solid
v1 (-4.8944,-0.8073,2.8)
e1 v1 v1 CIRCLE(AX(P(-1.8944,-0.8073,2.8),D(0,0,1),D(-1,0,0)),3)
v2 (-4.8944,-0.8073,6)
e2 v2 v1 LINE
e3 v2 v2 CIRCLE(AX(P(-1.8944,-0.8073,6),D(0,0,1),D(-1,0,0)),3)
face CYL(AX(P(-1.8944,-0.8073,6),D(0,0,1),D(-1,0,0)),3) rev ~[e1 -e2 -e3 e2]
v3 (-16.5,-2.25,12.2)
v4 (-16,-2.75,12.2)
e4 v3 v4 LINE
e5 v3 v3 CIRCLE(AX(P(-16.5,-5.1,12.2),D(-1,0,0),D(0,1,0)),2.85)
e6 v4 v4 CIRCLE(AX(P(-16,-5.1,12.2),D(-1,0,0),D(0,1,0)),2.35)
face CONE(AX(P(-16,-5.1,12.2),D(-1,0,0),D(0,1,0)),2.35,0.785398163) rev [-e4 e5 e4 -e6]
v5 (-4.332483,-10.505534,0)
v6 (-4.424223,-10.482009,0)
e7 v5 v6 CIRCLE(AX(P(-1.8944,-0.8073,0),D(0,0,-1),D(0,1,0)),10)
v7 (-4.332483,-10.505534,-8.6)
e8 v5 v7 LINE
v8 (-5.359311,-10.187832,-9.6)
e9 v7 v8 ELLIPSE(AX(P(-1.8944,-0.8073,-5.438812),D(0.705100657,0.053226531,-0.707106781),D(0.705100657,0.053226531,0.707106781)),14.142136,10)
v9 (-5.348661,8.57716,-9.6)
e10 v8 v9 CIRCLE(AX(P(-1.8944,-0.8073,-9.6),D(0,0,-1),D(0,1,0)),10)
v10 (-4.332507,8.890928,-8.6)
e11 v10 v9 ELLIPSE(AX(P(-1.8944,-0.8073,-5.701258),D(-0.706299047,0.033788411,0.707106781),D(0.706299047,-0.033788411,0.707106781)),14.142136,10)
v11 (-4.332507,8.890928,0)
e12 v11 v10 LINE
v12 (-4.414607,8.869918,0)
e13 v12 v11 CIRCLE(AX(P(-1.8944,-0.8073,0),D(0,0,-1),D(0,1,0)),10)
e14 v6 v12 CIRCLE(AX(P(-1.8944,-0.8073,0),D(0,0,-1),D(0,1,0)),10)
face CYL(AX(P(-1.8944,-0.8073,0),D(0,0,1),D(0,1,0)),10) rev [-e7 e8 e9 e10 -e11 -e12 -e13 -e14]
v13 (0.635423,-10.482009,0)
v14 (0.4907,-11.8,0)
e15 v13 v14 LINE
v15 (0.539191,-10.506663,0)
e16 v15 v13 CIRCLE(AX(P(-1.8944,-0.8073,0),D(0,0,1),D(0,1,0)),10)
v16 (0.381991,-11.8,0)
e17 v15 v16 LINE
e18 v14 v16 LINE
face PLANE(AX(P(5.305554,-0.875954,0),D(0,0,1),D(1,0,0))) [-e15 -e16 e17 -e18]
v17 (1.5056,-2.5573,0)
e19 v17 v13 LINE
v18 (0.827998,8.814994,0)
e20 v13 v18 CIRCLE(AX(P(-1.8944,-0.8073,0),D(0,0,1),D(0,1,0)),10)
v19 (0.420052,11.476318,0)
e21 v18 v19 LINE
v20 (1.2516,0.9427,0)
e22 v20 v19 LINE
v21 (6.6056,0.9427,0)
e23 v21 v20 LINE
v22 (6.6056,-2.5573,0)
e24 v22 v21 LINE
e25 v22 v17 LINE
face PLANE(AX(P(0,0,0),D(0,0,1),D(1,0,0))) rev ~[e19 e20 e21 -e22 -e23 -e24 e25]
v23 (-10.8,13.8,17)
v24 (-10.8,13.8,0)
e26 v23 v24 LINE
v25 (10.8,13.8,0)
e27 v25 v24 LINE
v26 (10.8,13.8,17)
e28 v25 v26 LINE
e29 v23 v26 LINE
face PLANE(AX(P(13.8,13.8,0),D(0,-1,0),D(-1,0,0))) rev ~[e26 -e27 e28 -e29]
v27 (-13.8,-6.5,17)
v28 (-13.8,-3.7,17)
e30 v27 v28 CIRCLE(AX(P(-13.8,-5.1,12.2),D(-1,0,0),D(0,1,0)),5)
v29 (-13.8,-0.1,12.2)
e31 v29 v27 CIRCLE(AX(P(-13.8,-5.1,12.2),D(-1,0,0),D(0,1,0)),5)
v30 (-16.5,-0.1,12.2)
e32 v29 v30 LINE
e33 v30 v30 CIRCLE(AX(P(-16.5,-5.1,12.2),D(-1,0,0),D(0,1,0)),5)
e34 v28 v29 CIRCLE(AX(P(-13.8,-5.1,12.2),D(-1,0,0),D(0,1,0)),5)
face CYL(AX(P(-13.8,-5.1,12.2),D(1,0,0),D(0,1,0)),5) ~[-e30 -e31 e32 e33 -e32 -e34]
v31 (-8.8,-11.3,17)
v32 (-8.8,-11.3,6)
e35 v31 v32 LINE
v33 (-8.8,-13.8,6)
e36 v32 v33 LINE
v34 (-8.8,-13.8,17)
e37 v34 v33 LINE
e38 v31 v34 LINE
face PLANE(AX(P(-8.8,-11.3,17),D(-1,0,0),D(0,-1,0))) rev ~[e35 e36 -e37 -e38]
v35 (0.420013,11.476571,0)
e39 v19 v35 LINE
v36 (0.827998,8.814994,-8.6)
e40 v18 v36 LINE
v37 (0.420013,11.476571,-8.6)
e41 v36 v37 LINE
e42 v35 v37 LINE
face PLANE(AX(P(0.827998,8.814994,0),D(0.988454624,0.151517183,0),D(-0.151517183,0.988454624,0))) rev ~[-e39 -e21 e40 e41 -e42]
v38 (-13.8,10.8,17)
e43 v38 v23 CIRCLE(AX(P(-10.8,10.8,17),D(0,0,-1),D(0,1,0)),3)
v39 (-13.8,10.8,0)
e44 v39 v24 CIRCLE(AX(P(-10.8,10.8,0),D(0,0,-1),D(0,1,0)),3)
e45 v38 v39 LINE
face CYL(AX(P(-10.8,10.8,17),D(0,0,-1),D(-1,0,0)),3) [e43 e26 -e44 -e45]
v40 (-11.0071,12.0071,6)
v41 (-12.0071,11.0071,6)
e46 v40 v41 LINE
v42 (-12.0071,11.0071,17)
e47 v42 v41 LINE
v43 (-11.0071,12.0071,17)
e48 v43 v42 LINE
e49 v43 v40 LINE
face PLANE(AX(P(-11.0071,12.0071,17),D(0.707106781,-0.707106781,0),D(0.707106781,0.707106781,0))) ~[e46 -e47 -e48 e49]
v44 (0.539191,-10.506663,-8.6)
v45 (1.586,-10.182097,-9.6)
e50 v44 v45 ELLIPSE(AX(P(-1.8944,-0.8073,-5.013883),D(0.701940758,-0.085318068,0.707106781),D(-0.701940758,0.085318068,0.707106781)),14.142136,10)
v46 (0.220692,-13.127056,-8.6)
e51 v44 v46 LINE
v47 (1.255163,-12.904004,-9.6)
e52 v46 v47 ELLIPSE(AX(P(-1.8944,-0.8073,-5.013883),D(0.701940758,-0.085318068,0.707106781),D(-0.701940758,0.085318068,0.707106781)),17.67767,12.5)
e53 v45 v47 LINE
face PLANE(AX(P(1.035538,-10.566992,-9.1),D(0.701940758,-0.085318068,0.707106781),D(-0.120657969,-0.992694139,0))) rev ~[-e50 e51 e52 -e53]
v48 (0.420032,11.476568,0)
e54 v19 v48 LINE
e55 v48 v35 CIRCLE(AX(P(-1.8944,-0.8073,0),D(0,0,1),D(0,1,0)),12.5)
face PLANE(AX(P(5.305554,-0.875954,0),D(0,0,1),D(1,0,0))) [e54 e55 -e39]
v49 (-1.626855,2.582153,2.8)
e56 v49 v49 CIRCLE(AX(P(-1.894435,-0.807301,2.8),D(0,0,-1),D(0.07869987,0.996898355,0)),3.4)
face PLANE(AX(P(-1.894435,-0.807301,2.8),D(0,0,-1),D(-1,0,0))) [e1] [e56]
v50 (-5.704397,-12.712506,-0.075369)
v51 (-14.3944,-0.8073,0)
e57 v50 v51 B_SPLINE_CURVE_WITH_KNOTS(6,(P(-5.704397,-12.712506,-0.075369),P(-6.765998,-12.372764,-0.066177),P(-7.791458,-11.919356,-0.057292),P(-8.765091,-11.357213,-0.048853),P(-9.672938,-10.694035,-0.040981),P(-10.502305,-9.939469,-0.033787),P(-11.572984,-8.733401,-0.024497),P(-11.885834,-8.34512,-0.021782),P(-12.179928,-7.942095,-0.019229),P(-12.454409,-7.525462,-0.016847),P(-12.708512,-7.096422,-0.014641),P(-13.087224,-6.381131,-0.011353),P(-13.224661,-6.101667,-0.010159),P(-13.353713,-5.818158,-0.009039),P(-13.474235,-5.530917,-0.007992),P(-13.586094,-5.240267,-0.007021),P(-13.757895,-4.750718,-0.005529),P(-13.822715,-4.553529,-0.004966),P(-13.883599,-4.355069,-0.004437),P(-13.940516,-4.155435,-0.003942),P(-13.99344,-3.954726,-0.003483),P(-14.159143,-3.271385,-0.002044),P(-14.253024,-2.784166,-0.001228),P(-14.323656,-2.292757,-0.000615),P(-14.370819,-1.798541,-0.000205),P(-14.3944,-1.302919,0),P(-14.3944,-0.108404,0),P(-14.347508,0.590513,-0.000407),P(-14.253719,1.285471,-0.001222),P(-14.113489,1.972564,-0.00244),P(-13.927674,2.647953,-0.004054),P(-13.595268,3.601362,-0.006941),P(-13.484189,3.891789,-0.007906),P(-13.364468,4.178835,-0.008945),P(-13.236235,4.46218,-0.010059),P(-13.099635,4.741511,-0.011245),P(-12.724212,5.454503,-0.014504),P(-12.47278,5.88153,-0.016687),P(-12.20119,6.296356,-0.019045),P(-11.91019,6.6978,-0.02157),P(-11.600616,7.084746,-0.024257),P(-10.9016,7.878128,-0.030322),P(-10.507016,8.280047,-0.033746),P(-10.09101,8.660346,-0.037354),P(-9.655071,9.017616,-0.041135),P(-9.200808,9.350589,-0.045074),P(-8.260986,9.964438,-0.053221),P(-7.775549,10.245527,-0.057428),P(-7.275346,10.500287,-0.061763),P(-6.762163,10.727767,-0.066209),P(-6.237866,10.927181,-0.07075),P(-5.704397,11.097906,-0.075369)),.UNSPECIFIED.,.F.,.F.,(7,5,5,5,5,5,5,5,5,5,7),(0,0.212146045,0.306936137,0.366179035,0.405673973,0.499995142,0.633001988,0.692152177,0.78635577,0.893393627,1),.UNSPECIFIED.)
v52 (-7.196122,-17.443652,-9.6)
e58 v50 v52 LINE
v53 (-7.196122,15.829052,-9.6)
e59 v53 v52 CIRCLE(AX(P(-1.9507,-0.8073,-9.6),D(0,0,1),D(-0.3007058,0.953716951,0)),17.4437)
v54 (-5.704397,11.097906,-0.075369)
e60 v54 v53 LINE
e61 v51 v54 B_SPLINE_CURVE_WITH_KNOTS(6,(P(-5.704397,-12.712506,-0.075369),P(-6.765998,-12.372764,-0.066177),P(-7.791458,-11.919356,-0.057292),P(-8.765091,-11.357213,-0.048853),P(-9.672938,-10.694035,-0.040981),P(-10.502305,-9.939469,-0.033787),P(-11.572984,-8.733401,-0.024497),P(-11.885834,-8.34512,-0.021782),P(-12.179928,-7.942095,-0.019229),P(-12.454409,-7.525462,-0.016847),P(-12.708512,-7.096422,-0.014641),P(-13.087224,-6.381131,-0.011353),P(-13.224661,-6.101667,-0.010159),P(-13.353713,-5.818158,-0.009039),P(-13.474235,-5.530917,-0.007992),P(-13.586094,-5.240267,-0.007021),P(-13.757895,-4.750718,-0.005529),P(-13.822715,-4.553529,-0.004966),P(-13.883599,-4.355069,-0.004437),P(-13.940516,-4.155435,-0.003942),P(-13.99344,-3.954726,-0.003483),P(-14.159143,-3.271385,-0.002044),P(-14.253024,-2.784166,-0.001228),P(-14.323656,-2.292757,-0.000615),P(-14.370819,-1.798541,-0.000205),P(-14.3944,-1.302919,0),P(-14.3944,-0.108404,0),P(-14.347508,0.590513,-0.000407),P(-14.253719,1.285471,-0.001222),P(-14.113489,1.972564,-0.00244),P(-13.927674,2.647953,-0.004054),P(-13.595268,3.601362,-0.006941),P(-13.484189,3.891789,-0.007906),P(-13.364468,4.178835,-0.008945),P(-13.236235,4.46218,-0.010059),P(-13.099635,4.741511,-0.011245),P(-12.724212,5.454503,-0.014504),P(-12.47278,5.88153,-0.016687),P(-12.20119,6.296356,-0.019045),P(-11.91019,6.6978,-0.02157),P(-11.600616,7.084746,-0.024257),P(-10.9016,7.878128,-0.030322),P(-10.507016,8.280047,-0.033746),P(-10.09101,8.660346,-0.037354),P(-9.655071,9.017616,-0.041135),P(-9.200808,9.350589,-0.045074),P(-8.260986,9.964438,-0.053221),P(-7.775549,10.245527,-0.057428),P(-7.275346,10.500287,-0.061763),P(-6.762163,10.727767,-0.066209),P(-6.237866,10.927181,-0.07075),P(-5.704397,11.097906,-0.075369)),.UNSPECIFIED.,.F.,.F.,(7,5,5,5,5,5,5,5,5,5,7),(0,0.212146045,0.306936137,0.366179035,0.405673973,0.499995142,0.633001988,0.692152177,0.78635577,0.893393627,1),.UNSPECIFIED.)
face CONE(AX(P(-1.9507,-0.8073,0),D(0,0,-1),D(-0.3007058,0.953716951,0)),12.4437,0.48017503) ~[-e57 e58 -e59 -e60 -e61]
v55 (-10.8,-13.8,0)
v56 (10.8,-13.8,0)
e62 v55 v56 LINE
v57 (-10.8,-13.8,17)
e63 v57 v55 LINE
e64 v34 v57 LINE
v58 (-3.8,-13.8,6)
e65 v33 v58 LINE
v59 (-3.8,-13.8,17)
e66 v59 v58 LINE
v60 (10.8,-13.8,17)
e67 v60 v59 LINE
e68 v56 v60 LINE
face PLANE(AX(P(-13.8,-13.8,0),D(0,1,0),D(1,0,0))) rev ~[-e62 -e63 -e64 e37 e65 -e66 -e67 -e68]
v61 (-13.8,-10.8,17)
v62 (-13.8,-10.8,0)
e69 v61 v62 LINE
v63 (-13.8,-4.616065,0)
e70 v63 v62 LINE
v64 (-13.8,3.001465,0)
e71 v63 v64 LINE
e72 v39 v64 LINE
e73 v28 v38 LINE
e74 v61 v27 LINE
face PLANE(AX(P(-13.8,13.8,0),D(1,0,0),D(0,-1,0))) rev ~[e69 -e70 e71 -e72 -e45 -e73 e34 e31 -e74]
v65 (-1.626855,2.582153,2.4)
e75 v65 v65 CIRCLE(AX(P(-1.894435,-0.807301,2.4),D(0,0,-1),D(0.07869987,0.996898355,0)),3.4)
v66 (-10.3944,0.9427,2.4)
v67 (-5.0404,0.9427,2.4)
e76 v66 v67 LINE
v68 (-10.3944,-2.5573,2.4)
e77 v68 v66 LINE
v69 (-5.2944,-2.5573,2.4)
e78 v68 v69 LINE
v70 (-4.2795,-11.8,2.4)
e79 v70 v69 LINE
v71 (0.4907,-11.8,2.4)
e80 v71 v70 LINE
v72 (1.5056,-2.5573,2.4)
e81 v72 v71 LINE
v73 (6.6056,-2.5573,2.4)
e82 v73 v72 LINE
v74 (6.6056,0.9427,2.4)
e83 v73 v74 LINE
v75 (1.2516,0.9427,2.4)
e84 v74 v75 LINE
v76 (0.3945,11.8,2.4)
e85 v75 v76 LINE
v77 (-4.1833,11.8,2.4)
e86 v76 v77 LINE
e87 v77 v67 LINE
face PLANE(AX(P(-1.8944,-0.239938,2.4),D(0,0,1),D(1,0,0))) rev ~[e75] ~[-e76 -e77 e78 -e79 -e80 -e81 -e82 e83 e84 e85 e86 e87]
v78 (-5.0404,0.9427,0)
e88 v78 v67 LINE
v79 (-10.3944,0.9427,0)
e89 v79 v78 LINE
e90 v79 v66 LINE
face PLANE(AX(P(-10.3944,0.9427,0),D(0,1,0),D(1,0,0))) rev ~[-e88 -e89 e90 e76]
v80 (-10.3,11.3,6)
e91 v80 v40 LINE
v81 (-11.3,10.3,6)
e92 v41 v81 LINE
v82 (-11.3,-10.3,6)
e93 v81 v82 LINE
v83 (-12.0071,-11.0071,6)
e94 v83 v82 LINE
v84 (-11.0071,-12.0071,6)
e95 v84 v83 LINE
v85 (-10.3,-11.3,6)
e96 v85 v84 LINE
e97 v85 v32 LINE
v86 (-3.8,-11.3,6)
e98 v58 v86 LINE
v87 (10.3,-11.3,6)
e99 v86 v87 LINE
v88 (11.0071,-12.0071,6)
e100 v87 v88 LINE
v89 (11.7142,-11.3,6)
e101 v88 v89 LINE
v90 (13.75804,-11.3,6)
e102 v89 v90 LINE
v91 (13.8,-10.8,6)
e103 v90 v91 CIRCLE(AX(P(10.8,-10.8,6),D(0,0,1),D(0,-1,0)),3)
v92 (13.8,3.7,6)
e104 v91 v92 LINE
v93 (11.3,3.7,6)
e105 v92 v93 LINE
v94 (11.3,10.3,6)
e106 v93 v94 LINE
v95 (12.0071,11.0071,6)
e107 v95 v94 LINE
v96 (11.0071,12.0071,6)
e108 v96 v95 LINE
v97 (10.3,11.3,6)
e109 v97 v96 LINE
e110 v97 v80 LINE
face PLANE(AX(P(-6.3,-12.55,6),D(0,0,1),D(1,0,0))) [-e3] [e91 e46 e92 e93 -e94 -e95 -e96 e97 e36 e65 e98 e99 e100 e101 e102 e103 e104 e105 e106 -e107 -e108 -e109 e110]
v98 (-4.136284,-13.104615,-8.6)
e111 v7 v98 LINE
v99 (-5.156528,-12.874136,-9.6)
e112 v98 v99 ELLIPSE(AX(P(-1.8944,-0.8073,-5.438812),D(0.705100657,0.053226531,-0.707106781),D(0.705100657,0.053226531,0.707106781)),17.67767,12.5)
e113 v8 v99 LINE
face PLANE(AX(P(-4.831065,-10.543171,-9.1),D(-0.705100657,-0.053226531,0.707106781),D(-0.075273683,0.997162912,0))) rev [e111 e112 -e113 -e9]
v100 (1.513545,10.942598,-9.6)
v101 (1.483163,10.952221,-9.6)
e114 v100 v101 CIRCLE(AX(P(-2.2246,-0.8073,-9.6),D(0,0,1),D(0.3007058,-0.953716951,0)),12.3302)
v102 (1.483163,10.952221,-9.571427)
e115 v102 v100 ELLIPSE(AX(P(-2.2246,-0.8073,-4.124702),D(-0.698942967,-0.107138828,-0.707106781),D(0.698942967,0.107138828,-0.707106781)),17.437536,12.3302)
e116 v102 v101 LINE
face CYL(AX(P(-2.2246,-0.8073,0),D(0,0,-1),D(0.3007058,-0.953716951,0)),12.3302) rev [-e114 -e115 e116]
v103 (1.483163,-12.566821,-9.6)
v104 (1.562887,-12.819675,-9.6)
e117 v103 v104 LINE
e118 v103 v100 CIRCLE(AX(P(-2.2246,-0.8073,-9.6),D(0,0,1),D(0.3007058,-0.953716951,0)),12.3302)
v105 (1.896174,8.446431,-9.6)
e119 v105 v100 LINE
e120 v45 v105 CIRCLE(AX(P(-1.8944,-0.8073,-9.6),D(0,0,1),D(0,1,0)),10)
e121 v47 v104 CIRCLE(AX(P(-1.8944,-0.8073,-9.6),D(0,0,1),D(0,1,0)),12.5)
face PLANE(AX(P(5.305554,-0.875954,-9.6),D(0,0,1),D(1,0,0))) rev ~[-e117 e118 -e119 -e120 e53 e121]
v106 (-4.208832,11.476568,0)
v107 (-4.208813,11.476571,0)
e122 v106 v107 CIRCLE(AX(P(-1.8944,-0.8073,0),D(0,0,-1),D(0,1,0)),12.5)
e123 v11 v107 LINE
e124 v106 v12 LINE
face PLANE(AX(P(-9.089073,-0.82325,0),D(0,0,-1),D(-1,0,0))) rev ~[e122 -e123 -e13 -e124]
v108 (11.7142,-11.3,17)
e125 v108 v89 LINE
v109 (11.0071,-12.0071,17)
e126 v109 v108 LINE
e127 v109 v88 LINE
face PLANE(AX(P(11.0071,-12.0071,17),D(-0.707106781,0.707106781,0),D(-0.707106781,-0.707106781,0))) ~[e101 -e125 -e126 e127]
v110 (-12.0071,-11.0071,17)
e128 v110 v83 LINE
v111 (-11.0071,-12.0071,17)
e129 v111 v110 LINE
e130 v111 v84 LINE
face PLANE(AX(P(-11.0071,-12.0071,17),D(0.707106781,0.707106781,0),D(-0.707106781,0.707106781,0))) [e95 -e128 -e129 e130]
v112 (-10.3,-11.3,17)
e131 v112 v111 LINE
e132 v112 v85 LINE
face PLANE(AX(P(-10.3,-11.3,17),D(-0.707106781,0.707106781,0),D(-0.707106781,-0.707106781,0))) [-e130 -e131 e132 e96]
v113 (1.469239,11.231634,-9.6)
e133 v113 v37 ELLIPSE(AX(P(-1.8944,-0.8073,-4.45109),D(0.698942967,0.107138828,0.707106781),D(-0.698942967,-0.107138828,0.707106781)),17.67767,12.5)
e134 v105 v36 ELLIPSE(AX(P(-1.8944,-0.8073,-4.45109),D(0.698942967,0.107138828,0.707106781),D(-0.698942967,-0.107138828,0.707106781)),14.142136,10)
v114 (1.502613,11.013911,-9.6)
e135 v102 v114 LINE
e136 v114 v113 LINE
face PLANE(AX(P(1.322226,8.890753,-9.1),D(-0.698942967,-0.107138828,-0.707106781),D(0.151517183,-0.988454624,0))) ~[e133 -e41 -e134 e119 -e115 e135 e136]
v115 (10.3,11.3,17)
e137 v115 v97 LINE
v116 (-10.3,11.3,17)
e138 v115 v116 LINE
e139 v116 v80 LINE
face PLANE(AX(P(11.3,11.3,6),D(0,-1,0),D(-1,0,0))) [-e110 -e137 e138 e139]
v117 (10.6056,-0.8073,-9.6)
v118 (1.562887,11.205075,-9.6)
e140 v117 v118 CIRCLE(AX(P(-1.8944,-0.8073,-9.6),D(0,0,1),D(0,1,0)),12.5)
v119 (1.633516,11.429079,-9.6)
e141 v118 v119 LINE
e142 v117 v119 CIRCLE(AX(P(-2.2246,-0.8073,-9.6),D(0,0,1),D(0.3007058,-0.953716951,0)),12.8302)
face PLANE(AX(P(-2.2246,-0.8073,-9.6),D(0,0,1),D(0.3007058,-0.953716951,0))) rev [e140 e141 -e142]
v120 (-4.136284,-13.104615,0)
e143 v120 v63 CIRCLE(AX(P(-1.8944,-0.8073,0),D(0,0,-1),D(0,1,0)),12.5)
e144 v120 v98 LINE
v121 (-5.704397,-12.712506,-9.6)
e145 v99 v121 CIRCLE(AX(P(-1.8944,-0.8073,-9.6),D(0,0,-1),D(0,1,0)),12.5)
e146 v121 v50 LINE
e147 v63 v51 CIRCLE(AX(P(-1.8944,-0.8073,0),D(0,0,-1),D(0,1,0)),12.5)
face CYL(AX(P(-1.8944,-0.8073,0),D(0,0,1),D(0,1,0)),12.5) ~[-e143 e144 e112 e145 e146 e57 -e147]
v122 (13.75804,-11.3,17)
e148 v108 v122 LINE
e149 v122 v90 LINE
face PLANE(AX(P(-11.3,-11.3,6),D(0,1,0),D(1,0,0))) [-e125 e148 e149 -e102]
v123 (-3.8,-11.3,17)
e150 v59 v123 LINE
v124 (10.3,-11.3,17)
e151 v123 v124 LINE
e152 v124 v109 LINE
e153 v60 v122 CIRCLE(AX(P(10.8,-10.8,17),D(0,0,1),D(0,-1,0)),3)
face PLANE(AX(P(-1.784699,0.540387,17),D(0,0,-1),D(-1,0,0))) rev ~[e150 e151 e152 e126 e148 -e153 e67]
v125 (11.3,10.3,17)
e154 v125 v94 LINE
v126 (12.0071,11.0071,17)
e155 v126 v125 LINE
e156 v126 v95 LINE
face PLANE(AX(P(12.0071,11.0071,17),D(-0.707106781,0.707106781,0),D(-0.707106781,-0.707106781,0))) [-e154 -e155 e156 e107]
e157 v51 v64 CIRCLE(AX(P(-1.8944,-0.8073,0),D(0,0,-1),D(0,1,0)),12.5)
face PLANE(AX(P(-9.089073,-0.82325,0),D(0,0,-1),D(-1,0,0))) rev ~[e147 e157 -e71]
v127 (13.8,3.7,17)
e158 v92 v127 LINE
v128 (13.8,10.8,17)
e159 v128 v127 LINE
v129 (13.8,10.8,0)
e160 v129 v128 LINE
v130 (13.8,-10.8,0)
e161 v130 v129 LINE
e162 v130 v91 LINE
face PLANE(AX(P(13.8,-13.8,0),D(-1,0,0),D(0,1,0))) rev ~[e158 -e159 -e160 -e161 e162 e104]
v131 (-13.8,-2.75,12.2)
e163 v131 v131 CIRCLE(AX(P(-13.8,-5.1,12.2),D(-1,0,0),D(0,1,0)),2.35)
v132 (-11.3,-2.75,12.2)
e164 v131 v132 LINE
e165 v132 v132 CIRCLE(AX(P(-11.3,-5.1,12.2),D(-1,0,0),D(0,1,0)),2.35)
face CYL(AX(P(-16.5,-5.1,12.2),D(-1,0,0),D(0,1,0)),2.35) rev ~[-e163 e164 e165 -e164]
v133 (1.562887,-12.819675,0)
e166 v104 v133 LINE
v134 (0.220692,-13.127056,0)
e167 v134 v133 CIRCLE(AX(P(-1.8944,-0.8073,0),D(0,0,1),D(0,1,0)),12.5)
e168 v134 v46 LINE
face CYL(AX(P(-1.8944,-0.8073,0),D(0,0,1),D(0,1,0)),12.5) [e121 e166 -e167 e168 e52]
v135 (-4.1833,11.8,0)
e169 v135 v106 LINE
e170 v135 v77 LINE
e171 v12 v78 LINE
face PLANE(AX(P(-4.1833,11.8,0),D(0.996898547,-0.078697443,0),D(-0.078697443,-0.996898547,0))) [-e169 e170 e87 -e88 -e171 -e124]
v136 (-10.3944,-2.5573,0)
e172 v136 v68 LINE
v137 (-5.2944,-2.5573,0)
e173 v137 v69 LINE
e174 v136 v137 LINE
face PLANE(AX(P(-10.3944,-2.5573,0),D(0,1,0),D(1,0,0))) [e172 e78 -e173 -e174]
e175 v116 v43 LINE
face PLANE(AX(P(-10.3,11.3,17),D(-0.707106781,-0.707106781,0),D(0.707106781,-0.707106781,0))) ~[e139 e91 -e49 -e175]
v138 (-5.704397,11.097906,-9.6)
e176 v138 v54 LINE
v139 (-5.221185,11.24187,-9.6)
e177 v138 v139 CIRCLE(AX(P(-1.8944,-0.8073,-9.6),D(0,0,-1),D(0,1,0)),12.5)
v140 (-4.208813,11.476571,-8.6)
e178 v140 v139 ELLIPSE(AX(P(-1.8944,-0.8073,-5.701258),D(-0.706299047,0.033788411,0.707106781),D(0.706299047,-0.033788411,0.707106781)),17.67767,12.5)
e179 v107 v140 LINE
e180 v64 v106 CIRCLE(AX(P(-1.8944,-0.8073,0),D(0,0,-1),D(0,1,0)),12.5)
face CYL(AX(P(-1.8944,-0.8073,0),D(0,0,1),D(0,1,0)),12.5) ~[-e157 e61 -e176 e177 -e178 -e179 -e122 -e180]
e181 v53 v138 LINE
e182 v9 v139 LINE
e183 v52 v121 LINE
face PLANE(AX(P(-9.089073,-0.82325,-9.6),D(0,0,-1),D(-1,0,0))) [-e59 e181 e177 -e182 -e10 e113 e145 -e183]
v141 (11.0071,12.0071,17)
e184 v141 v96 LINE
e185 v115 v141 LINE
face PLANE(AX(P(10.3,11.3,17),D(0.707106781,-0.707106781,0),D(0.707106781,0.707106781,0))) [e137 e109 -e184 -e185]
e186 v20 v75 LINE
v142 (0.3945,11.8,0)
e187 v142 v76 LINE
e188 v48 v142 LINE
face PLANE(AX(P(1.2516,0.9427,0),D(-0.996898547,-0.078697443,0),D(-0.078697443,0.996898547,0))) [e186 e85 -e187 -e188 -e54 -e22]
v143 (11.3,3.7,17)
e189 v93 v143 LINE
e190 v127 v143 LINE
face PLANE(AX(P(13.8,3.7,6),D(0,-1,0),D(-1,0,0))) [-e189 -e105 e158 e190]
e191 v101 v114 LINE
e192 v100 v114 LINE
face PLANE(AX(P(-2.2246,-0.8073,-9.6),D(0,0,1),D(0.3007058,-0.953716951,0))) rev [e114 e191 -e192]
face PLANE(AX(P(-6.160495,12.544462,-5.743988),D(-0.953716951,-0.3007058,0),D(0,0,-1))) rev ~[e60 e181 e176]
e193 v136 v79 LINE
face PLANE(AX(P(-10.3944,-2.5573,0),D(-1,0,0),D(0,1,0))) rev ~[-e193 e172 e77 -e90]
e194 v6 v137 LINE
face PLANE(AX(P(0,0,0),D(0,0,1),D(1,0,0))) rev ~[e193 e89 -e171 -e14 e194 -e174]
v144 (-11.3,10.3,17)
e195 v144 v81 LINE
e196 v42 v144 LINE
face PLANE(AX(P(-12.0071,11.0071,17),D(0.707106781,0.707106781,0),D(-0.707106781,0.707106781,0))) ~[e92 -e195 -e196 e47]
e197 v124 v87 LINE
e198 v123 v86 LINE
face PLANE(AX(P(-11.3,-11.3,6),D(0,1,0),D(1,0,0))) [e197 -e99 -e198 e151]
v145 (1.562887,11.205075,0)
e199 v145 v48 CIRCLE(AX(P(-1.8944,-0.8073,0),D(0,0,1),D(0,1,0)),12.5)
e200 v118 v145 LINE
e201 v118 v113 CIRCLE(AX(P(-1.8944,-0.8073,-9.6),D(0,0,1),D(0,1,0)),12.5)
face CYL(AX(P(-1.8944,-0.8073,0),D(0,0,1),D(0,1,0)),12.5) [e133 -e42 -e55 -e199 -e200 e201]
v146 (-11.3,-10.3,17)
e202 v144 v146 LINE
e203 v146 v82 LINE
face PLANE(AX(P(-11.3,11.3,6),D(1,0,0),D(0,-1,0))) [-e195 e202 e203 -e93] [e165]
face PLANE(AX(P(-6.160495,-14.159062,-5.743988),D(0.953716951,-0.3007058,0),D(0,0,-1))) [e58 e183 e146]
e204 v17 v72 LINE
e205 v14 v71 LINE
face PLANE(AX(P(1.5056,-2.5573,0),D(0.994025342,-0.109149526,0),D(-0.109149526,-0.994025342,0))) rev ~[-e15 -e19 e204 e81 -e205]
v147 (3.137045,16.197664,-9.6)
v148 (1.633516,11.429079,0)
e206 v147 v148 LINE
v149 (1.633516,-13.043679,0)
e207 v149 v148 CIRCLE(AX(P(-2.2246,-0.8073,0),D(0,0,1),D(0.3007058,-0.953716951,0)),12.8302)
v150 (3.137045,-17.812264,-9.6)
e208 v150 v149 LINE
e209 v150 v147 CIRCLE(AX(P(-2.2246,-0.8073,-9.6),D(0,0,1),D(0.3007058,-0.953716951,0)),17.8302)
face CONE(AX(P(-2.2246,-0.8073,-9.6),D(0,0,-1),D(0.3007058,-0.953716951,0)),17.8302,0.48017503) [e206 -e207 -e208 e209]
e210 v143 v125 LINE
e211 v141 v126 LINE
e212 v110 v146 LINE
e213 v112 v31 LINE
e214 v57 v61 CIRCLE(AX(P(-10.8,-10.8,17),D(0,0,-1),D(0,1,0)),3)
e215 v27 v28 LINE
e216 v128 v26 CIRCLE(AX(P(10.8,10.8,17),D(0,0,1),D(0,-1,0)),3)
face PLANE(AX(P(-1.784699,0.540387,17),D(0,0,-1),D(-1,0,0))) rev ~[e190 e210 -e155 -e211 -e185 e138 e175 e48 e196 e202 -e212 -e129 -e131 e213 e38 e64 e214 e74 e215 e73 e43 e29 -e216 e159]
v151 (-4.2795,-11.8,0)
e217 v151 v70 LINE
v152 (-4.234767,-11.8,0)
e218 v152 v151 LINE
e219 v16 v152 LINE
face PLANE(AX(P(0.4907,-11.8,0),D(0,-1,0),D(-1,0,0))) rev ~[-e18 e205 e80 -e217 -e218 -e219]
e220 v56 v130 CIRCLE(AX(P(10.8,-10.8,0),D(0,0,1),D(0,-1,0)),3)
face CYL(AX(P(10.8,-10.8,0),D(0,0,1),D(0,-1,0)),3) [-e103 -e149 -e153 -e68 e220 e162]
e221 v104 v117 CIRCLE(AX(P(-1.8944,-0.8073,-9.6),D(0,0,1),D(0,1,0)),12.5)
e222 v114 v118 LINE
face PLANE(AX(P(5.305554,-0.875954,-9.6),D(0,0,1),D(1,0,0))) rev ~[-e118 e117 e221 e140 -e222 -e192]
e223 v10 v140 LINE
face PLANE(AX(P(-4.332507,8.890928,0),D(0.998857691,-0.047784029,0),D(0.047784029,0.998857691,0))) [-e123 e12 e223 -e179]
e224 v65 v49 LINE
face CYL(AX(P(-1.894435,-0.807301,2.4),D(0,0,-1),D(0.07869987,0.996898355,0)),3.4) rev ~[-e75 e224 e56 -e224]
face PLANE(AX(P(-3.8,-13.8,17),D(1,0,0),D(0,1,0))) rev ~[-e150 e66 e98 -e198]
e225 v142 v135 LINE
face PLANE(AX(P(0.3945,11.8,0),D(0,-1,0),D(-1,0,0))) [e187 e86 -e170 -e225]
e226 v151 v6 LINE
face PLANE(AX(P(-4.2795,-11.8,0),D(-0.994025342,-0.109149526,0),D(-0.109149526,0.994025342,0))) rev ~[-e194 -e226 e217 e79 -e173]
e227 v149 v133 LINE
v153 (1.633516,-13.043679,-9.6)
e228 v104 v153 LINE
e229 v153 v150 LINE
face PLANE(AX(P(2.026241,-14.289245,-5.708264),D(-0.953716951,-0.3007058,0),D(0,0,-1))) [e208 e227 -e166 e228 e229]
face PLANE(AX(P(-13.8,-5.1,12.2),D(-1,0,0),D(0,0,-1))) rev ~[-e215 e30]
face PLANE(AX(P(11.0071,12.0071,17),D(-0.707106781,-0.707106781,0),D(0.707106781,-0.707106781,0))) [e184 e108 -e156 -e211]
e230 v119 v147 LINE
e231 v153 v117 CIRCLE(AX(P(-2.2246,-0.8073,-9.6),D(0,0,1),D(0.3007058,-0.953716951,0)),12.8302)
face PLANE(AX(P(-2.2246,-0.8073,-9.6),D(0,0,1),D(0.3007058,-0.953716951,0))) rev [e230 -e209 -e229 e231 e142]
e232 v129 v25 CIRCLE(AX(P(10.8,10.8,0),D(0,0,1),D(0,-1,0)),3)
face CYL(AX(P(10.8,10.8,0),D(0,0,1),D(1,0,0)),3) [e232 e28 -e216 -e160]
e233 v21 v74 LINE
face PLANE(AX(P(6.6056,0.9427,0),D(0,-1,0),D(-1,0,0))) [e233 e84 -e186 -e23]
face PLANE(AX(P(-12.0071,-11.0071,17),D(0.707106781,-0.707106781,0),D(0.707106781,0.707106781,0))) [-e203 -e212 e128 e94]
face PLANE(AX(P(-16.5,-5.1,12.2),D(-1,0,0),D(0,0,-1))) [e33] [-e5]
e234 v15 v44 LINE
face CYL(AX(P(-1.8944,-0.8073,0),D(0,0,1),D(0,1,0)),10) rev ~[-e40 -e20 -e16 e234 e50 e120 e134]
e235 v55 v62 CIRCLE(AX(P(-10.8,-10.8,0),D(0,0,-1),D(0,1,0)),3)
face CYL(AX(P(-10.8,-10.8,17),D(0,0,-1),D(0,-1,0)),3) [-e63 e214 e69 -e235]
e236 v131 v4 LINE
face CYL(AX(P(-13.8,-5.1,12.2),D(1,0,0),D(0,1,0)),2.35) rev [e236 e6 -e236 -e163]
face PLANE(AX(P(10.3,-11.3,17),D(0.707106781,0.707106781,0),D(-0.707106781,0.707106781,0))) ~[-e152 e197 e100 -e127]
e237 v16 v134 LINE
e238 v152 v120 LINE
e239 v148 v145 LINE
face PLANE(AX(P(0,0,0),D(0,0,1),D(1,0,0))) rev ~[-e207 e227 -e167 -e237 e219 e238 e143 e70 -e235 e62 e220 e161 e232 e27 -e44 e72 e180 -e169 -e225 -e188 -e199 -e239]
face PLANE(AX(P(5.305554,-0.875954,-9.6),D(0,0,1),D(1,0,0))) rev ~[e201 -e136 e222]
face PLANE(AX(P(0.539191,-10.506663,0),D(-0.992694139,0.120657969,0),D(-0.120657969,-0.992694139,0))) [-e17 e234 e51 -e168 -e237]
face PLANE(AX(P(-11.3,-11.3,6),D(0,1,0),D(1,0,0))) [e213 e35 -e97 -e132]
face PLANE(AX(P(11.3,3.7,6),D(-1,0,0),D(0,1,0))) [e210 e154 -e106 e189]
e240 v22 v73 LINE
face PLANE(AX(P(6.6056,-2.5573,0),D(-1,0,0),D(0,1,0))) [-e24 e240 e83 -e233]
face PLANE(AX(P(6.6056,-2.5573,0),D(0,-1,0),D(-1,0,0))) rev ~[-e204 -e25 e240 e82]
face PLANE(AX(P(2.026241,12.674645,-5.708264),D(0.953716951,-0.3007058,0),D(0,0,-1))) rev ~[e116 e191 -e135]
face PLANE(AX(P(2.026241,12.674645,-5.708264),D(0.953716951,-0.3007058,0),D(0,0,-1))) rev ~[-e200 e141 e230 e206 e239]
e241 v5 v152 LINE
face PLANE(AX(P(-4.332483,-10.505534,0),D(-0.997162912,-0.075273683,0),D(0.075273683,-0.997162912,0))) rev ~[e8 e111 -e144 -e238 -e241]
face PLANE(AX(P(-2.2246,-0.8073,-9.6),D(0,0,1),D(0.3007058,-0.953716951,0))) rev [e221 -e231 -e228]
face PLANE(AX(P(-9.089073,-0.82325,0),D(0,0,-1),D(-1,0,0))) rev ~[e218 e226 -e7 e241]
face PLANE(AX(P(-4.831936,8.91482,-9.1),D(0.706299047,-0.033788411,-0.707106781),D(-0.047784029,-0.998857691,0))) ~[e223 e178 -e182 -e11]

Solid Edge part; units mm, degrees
sketch "Sketch1" plane through (0, 0, 0) normal (0, 0, 1) x (1, 0, 0)
  line L0 (-13.8, -13.8) -> (13.8, -13.8)
  line L1 (13.8, -13.8) -> (13.8, 13.8)
  line L2 (13.8, 13.8) -> (-13.8, 13.8)
  line L3 (-13.8, 13.8) -> (-13.8, -13.8)
  dimension "D1" = 27.6
  dimension "D2" = 27.6
extrude "Protrusion1" add sketch "Sketch1" along normal blind 6
sketch "Sketch2" plane through (0, 0, 6) normal (0, 0, 1) x (1, 0, 0)
  line L0 (13.8, -11.3) -> (13.8, -13.8)
  line L1 (-11.3, -11.3) -> (13.8, -11.3)
  line L2 (-11.3, 11.3) -> (-11.3, -11.3)
  line L3 (11.3, 11.3) -> (-11.3, 11.3)
  line L4 (11.3, 3.7) -> (11.3, 11.3)
  line L5 (13.8, 3.7) -> (11.3, 3.7)
  line L6 (13.8, 13.8) -> (13.8, 3.7)
  line L7 (-13.8, 13.8) -> (13.8, 13.8)
  line L8 (-13.8, -13.8) -> (-13.8, 13.8)
  line L9 (13.8, -13.8) -> (-13.8, -13.8)
  dimension "D1" = 2.5
  dimension "D2" = 2.5
  dimension "D3" = 2.5
  dimension "D4" = 15
  dimension "D5" = 2.5
extrude "servo_holding" add sketch "Sketch2" along normal blind 11
sketch "Sketch3" plane through (1.25, 0, 5) normal (0, 0, 1) x (1, 0, 0)
  circle A0 centre (-3.1444, -0.8073) radius 1.25
  dimension "D1" = 2.5
extrude "Cutout1" cut sketch "Sketch3" against normal through all
sketch "Sketch4" plane through (0, 0, 17) normal (0, 0, 1) x (-1, 0, 0)
  line L0 (8.8, 13.8) -> (3.8, 13.8)
  line L1 (3.8, 13.8) -> (3.8, 11.3)
  line L2 (3.8, 11.3) -> (8.8, 11.3)
  line L3 (8.8, 11.3) -> (8.8, 13.8)
  dimension "D1" = 5
  dimension "D2" = 2.5
extrude "Cutout2" cut sketch "Sketch4" against normal up to vertex (11 mm away)
sketch "Sketch5" plane through (-13.8, 0, 8) normal (-1, 0, 0) x (0, 1, 0)
  circle A0 centre (-5.1, -4.2) radius 2.35
  circle A1 centre (-5.1, -4.2) radius 5
  dimension "D1" = 8.7
  dimension "D2" = 12.2
  dimension "D3" = 4.7
  dimension "D4" = 10
extrude "side_axis_mounting" add sketch "Sketch5" along normal blind 2.7
sketch "Sketch6" plane through (-16.5, -5.1, 11.2) normal (-1, 0, 0) x (0, 1, 0)
  circle A0 centre (0, -1) radius 2.35
extrude "Cutout3" cut sketch "Sketch6" against normal up to next
fillet "edges" radius 3 4 edges at (-13.8, -13.8, 8.5) (13.8, -13.8, 8.5) (13.8, 13.8, 8.5) (-13.8, 13.8, 8.5)
sketch "Sketch7" plane through (0, 0, 0) normal (0, 0, -1) x (0, 1, 0)
  line L0 (-2.5573, 6.6056) -> (0.9427, 6.6056)
  line L1 (0.9427, 6.6056) -> (0.9427, 1.2516)
  line L2 (0.9427, 1.2516) -> (11.8, 0.3945)
  line L3 (11.8, 0.3945) -> (11.8, -4.1833)
  line L4 (11.8, -4.1833) -> (0.9427, -5.0404)
  line L5 (0.9427, -10.3944) -> (0.9427, -5.0404)
  line L6 (-2.5573, -10.3944) -> (0.9427, -10.3944)
  line L7 (-2.5573, -10.3944) -> (-2.5573, -5.2944)
  line L8 (-11.8, -4.2795) -> (-2.5573, -5.2944)
  line L9 (-11.8, 0.4907) -> (-11.8, -4.2795)
  line L10 (-2.5573, 1.5056) -> (-11.8, 0.4907)
  line L11 (-2.5573, 6.6056) -> (-2.5573, 1.5056)
  dimension "D1" = 3.5
  dimension "D2" = 3.9
  dimension "D3" = 6.8
  dimension "D4" = 4
  dimension "D5" = 7.2
  dimension "D6" = 17
  dimension "D7" = 16.9
  dimension "D8" = 14.5
  dimension "D9" = 2
  dimension "D10" = 2
extrude "servo_cut" cut sketch "Sketch7" against normal blind 2.4
sketch "Sketch8" plane through (1.25, -1.25, 6) normal (0, 0, 1) x (-1, 0, 0)
  circle A0 centre (3.1444, -0.4427) radius 3
  dimension "D1" = 6
extrude "servo_screw_cut" cut sketch "Sketch8" against normal blind 5
sketch "Sketch9" plane through (-1.8944, 0, 2.4) normal (0, 0, -1) x (0.0787, 0.9969, 0)
  circle A0 centre (-0.8048, 0.0635) radius 3.4
  dimension "D1" = 6.8
extrude "Cutout4" cut sketch "Sketch9" against normal blind 0.4
sketch "Sketch10" plane through (0, 0, 0) normal (0, 0, -1) x (0, 1, 0)
  line L0 (-10.5067, 0.5392) -> (-13.1271, 0.2207)
  arc A0 (-13.1271, 0.2207) -> (11.4765, 0.42) centre (-0.8073, -1.8944) cw
  line L1 (8.815, 0.828) -> (11.4765, 0.42)
  arc A1 (-10.5067, 0.5392) -> (8.815, 0.828) centre (-0.8073, -1.8944) cw
  line L2 (-10.5056, -4.3325) -> (-13.1047, -4.1363)
  arc A2 (-13.1047, -4.1363) -> (11.4765, -4.2088) centre (-0.8073, -1.8944) ccw
  line L3 (8.8909, -4.3325) -> (11.4765, -4.2088)
  arc A3 (-10.5056, -4.3325) -> (8.8909, -4.3325) centre (-0.8073, -1.8944) ccw
  dimension "D1" = 12.5
  dimension "D2" = 25
  dimension "D3" = 20
  dimension "D4" = 10
extrude "Extrusionsausprägung_4" add sketch "Sketch10" along normal blind 9.6
chamfer "Fase_1" distance 1 angle 45 4 edges at (0.3799, -11.8169, -9.6) (0.624, 10.1457, -9.6) (-4.2706, 10.1837, -9.6) (-4.2344, -11.8051, -9.6)
sketch "Sketch11" plane through (0, -0.8073, 8.5) normal (0, -1, 0) x (-1, 0, 0)
  line L0 (14.3944, 8.5) -> (19.3944, 18.1)
  line L1 (19.3944, 18.1) -> (14.3944, 18.1)
  line L2 (14.3944, 18.1) -> (14.3944, 8.5)
  dimension "D1" = 5
revolve "Rotationsausprägung_3" add sketch "Sketch11" angle 145 mid plane about axis through (-1.9507, -0.8073, -9.6) along (0, 0, 1)
sketch "Sketch12" plane through (0, 0, 17) normal (0, 0, 1) x (1, 0, 0)
  line L0 (10.3, 11.3) -> (11.3, 11.3)
  line L1 (11.3, 11.3) -> (11.3, 10.3)
  line L2 (12.0071, 11.0071) -> (11.3, 10.3)
  line L3 (11.0071, 12.0071) -> (12.0071, 11.0071)
  line L4 (10.3, 11.3) -> (11.0071, 12.0071)
  dimension "D1" = 1
  dimension "D2" = 1
extrude "Cutout5" cut sketch "Sketch12" against normal up to vertex (11 mm away)
mirror "Mirror1" about plane through (0, 0, 0) normal (1, 0, 0) of "Cutout5"
mirror "Mirror2" about plane through (0, 0, 0) normal (0, -1, 0) of "Cutout5", "Mirror1"
chamfer "Fase_2" distance 0.5 angle 45 1 edges at (-16.5, -7.45, 12.2)
sketch "Sketch13" plane through (0, -0.8073, 8.5) normal (0, -1, 0) x (-1, 0, 0)
  line L0 (-10.6056, 18.1) -> (-15.6056, 18.1)
  line L1 (-15.6056, 18.1) -> (-10.6056, 8.5)
  line L2 (-10.6056, 8.5) -> (-10.1056, 8.5)
  line L3 (-10.1056, 8.5) -> (-10.1056, 18.1)
  line L4 (-10.1056, 18.1) -> (-10.6056, 18.1)
  dimension "D1" = 5
  dimension "D2" = 0.5
revolve "Rotationsausprägung_5" add sketch "Sketch13" angle 145 mid plane about axis through (-2.2246, -0.8073, -9.6) along (0, 0, 1)
properties material "Nylon, allgemein"
